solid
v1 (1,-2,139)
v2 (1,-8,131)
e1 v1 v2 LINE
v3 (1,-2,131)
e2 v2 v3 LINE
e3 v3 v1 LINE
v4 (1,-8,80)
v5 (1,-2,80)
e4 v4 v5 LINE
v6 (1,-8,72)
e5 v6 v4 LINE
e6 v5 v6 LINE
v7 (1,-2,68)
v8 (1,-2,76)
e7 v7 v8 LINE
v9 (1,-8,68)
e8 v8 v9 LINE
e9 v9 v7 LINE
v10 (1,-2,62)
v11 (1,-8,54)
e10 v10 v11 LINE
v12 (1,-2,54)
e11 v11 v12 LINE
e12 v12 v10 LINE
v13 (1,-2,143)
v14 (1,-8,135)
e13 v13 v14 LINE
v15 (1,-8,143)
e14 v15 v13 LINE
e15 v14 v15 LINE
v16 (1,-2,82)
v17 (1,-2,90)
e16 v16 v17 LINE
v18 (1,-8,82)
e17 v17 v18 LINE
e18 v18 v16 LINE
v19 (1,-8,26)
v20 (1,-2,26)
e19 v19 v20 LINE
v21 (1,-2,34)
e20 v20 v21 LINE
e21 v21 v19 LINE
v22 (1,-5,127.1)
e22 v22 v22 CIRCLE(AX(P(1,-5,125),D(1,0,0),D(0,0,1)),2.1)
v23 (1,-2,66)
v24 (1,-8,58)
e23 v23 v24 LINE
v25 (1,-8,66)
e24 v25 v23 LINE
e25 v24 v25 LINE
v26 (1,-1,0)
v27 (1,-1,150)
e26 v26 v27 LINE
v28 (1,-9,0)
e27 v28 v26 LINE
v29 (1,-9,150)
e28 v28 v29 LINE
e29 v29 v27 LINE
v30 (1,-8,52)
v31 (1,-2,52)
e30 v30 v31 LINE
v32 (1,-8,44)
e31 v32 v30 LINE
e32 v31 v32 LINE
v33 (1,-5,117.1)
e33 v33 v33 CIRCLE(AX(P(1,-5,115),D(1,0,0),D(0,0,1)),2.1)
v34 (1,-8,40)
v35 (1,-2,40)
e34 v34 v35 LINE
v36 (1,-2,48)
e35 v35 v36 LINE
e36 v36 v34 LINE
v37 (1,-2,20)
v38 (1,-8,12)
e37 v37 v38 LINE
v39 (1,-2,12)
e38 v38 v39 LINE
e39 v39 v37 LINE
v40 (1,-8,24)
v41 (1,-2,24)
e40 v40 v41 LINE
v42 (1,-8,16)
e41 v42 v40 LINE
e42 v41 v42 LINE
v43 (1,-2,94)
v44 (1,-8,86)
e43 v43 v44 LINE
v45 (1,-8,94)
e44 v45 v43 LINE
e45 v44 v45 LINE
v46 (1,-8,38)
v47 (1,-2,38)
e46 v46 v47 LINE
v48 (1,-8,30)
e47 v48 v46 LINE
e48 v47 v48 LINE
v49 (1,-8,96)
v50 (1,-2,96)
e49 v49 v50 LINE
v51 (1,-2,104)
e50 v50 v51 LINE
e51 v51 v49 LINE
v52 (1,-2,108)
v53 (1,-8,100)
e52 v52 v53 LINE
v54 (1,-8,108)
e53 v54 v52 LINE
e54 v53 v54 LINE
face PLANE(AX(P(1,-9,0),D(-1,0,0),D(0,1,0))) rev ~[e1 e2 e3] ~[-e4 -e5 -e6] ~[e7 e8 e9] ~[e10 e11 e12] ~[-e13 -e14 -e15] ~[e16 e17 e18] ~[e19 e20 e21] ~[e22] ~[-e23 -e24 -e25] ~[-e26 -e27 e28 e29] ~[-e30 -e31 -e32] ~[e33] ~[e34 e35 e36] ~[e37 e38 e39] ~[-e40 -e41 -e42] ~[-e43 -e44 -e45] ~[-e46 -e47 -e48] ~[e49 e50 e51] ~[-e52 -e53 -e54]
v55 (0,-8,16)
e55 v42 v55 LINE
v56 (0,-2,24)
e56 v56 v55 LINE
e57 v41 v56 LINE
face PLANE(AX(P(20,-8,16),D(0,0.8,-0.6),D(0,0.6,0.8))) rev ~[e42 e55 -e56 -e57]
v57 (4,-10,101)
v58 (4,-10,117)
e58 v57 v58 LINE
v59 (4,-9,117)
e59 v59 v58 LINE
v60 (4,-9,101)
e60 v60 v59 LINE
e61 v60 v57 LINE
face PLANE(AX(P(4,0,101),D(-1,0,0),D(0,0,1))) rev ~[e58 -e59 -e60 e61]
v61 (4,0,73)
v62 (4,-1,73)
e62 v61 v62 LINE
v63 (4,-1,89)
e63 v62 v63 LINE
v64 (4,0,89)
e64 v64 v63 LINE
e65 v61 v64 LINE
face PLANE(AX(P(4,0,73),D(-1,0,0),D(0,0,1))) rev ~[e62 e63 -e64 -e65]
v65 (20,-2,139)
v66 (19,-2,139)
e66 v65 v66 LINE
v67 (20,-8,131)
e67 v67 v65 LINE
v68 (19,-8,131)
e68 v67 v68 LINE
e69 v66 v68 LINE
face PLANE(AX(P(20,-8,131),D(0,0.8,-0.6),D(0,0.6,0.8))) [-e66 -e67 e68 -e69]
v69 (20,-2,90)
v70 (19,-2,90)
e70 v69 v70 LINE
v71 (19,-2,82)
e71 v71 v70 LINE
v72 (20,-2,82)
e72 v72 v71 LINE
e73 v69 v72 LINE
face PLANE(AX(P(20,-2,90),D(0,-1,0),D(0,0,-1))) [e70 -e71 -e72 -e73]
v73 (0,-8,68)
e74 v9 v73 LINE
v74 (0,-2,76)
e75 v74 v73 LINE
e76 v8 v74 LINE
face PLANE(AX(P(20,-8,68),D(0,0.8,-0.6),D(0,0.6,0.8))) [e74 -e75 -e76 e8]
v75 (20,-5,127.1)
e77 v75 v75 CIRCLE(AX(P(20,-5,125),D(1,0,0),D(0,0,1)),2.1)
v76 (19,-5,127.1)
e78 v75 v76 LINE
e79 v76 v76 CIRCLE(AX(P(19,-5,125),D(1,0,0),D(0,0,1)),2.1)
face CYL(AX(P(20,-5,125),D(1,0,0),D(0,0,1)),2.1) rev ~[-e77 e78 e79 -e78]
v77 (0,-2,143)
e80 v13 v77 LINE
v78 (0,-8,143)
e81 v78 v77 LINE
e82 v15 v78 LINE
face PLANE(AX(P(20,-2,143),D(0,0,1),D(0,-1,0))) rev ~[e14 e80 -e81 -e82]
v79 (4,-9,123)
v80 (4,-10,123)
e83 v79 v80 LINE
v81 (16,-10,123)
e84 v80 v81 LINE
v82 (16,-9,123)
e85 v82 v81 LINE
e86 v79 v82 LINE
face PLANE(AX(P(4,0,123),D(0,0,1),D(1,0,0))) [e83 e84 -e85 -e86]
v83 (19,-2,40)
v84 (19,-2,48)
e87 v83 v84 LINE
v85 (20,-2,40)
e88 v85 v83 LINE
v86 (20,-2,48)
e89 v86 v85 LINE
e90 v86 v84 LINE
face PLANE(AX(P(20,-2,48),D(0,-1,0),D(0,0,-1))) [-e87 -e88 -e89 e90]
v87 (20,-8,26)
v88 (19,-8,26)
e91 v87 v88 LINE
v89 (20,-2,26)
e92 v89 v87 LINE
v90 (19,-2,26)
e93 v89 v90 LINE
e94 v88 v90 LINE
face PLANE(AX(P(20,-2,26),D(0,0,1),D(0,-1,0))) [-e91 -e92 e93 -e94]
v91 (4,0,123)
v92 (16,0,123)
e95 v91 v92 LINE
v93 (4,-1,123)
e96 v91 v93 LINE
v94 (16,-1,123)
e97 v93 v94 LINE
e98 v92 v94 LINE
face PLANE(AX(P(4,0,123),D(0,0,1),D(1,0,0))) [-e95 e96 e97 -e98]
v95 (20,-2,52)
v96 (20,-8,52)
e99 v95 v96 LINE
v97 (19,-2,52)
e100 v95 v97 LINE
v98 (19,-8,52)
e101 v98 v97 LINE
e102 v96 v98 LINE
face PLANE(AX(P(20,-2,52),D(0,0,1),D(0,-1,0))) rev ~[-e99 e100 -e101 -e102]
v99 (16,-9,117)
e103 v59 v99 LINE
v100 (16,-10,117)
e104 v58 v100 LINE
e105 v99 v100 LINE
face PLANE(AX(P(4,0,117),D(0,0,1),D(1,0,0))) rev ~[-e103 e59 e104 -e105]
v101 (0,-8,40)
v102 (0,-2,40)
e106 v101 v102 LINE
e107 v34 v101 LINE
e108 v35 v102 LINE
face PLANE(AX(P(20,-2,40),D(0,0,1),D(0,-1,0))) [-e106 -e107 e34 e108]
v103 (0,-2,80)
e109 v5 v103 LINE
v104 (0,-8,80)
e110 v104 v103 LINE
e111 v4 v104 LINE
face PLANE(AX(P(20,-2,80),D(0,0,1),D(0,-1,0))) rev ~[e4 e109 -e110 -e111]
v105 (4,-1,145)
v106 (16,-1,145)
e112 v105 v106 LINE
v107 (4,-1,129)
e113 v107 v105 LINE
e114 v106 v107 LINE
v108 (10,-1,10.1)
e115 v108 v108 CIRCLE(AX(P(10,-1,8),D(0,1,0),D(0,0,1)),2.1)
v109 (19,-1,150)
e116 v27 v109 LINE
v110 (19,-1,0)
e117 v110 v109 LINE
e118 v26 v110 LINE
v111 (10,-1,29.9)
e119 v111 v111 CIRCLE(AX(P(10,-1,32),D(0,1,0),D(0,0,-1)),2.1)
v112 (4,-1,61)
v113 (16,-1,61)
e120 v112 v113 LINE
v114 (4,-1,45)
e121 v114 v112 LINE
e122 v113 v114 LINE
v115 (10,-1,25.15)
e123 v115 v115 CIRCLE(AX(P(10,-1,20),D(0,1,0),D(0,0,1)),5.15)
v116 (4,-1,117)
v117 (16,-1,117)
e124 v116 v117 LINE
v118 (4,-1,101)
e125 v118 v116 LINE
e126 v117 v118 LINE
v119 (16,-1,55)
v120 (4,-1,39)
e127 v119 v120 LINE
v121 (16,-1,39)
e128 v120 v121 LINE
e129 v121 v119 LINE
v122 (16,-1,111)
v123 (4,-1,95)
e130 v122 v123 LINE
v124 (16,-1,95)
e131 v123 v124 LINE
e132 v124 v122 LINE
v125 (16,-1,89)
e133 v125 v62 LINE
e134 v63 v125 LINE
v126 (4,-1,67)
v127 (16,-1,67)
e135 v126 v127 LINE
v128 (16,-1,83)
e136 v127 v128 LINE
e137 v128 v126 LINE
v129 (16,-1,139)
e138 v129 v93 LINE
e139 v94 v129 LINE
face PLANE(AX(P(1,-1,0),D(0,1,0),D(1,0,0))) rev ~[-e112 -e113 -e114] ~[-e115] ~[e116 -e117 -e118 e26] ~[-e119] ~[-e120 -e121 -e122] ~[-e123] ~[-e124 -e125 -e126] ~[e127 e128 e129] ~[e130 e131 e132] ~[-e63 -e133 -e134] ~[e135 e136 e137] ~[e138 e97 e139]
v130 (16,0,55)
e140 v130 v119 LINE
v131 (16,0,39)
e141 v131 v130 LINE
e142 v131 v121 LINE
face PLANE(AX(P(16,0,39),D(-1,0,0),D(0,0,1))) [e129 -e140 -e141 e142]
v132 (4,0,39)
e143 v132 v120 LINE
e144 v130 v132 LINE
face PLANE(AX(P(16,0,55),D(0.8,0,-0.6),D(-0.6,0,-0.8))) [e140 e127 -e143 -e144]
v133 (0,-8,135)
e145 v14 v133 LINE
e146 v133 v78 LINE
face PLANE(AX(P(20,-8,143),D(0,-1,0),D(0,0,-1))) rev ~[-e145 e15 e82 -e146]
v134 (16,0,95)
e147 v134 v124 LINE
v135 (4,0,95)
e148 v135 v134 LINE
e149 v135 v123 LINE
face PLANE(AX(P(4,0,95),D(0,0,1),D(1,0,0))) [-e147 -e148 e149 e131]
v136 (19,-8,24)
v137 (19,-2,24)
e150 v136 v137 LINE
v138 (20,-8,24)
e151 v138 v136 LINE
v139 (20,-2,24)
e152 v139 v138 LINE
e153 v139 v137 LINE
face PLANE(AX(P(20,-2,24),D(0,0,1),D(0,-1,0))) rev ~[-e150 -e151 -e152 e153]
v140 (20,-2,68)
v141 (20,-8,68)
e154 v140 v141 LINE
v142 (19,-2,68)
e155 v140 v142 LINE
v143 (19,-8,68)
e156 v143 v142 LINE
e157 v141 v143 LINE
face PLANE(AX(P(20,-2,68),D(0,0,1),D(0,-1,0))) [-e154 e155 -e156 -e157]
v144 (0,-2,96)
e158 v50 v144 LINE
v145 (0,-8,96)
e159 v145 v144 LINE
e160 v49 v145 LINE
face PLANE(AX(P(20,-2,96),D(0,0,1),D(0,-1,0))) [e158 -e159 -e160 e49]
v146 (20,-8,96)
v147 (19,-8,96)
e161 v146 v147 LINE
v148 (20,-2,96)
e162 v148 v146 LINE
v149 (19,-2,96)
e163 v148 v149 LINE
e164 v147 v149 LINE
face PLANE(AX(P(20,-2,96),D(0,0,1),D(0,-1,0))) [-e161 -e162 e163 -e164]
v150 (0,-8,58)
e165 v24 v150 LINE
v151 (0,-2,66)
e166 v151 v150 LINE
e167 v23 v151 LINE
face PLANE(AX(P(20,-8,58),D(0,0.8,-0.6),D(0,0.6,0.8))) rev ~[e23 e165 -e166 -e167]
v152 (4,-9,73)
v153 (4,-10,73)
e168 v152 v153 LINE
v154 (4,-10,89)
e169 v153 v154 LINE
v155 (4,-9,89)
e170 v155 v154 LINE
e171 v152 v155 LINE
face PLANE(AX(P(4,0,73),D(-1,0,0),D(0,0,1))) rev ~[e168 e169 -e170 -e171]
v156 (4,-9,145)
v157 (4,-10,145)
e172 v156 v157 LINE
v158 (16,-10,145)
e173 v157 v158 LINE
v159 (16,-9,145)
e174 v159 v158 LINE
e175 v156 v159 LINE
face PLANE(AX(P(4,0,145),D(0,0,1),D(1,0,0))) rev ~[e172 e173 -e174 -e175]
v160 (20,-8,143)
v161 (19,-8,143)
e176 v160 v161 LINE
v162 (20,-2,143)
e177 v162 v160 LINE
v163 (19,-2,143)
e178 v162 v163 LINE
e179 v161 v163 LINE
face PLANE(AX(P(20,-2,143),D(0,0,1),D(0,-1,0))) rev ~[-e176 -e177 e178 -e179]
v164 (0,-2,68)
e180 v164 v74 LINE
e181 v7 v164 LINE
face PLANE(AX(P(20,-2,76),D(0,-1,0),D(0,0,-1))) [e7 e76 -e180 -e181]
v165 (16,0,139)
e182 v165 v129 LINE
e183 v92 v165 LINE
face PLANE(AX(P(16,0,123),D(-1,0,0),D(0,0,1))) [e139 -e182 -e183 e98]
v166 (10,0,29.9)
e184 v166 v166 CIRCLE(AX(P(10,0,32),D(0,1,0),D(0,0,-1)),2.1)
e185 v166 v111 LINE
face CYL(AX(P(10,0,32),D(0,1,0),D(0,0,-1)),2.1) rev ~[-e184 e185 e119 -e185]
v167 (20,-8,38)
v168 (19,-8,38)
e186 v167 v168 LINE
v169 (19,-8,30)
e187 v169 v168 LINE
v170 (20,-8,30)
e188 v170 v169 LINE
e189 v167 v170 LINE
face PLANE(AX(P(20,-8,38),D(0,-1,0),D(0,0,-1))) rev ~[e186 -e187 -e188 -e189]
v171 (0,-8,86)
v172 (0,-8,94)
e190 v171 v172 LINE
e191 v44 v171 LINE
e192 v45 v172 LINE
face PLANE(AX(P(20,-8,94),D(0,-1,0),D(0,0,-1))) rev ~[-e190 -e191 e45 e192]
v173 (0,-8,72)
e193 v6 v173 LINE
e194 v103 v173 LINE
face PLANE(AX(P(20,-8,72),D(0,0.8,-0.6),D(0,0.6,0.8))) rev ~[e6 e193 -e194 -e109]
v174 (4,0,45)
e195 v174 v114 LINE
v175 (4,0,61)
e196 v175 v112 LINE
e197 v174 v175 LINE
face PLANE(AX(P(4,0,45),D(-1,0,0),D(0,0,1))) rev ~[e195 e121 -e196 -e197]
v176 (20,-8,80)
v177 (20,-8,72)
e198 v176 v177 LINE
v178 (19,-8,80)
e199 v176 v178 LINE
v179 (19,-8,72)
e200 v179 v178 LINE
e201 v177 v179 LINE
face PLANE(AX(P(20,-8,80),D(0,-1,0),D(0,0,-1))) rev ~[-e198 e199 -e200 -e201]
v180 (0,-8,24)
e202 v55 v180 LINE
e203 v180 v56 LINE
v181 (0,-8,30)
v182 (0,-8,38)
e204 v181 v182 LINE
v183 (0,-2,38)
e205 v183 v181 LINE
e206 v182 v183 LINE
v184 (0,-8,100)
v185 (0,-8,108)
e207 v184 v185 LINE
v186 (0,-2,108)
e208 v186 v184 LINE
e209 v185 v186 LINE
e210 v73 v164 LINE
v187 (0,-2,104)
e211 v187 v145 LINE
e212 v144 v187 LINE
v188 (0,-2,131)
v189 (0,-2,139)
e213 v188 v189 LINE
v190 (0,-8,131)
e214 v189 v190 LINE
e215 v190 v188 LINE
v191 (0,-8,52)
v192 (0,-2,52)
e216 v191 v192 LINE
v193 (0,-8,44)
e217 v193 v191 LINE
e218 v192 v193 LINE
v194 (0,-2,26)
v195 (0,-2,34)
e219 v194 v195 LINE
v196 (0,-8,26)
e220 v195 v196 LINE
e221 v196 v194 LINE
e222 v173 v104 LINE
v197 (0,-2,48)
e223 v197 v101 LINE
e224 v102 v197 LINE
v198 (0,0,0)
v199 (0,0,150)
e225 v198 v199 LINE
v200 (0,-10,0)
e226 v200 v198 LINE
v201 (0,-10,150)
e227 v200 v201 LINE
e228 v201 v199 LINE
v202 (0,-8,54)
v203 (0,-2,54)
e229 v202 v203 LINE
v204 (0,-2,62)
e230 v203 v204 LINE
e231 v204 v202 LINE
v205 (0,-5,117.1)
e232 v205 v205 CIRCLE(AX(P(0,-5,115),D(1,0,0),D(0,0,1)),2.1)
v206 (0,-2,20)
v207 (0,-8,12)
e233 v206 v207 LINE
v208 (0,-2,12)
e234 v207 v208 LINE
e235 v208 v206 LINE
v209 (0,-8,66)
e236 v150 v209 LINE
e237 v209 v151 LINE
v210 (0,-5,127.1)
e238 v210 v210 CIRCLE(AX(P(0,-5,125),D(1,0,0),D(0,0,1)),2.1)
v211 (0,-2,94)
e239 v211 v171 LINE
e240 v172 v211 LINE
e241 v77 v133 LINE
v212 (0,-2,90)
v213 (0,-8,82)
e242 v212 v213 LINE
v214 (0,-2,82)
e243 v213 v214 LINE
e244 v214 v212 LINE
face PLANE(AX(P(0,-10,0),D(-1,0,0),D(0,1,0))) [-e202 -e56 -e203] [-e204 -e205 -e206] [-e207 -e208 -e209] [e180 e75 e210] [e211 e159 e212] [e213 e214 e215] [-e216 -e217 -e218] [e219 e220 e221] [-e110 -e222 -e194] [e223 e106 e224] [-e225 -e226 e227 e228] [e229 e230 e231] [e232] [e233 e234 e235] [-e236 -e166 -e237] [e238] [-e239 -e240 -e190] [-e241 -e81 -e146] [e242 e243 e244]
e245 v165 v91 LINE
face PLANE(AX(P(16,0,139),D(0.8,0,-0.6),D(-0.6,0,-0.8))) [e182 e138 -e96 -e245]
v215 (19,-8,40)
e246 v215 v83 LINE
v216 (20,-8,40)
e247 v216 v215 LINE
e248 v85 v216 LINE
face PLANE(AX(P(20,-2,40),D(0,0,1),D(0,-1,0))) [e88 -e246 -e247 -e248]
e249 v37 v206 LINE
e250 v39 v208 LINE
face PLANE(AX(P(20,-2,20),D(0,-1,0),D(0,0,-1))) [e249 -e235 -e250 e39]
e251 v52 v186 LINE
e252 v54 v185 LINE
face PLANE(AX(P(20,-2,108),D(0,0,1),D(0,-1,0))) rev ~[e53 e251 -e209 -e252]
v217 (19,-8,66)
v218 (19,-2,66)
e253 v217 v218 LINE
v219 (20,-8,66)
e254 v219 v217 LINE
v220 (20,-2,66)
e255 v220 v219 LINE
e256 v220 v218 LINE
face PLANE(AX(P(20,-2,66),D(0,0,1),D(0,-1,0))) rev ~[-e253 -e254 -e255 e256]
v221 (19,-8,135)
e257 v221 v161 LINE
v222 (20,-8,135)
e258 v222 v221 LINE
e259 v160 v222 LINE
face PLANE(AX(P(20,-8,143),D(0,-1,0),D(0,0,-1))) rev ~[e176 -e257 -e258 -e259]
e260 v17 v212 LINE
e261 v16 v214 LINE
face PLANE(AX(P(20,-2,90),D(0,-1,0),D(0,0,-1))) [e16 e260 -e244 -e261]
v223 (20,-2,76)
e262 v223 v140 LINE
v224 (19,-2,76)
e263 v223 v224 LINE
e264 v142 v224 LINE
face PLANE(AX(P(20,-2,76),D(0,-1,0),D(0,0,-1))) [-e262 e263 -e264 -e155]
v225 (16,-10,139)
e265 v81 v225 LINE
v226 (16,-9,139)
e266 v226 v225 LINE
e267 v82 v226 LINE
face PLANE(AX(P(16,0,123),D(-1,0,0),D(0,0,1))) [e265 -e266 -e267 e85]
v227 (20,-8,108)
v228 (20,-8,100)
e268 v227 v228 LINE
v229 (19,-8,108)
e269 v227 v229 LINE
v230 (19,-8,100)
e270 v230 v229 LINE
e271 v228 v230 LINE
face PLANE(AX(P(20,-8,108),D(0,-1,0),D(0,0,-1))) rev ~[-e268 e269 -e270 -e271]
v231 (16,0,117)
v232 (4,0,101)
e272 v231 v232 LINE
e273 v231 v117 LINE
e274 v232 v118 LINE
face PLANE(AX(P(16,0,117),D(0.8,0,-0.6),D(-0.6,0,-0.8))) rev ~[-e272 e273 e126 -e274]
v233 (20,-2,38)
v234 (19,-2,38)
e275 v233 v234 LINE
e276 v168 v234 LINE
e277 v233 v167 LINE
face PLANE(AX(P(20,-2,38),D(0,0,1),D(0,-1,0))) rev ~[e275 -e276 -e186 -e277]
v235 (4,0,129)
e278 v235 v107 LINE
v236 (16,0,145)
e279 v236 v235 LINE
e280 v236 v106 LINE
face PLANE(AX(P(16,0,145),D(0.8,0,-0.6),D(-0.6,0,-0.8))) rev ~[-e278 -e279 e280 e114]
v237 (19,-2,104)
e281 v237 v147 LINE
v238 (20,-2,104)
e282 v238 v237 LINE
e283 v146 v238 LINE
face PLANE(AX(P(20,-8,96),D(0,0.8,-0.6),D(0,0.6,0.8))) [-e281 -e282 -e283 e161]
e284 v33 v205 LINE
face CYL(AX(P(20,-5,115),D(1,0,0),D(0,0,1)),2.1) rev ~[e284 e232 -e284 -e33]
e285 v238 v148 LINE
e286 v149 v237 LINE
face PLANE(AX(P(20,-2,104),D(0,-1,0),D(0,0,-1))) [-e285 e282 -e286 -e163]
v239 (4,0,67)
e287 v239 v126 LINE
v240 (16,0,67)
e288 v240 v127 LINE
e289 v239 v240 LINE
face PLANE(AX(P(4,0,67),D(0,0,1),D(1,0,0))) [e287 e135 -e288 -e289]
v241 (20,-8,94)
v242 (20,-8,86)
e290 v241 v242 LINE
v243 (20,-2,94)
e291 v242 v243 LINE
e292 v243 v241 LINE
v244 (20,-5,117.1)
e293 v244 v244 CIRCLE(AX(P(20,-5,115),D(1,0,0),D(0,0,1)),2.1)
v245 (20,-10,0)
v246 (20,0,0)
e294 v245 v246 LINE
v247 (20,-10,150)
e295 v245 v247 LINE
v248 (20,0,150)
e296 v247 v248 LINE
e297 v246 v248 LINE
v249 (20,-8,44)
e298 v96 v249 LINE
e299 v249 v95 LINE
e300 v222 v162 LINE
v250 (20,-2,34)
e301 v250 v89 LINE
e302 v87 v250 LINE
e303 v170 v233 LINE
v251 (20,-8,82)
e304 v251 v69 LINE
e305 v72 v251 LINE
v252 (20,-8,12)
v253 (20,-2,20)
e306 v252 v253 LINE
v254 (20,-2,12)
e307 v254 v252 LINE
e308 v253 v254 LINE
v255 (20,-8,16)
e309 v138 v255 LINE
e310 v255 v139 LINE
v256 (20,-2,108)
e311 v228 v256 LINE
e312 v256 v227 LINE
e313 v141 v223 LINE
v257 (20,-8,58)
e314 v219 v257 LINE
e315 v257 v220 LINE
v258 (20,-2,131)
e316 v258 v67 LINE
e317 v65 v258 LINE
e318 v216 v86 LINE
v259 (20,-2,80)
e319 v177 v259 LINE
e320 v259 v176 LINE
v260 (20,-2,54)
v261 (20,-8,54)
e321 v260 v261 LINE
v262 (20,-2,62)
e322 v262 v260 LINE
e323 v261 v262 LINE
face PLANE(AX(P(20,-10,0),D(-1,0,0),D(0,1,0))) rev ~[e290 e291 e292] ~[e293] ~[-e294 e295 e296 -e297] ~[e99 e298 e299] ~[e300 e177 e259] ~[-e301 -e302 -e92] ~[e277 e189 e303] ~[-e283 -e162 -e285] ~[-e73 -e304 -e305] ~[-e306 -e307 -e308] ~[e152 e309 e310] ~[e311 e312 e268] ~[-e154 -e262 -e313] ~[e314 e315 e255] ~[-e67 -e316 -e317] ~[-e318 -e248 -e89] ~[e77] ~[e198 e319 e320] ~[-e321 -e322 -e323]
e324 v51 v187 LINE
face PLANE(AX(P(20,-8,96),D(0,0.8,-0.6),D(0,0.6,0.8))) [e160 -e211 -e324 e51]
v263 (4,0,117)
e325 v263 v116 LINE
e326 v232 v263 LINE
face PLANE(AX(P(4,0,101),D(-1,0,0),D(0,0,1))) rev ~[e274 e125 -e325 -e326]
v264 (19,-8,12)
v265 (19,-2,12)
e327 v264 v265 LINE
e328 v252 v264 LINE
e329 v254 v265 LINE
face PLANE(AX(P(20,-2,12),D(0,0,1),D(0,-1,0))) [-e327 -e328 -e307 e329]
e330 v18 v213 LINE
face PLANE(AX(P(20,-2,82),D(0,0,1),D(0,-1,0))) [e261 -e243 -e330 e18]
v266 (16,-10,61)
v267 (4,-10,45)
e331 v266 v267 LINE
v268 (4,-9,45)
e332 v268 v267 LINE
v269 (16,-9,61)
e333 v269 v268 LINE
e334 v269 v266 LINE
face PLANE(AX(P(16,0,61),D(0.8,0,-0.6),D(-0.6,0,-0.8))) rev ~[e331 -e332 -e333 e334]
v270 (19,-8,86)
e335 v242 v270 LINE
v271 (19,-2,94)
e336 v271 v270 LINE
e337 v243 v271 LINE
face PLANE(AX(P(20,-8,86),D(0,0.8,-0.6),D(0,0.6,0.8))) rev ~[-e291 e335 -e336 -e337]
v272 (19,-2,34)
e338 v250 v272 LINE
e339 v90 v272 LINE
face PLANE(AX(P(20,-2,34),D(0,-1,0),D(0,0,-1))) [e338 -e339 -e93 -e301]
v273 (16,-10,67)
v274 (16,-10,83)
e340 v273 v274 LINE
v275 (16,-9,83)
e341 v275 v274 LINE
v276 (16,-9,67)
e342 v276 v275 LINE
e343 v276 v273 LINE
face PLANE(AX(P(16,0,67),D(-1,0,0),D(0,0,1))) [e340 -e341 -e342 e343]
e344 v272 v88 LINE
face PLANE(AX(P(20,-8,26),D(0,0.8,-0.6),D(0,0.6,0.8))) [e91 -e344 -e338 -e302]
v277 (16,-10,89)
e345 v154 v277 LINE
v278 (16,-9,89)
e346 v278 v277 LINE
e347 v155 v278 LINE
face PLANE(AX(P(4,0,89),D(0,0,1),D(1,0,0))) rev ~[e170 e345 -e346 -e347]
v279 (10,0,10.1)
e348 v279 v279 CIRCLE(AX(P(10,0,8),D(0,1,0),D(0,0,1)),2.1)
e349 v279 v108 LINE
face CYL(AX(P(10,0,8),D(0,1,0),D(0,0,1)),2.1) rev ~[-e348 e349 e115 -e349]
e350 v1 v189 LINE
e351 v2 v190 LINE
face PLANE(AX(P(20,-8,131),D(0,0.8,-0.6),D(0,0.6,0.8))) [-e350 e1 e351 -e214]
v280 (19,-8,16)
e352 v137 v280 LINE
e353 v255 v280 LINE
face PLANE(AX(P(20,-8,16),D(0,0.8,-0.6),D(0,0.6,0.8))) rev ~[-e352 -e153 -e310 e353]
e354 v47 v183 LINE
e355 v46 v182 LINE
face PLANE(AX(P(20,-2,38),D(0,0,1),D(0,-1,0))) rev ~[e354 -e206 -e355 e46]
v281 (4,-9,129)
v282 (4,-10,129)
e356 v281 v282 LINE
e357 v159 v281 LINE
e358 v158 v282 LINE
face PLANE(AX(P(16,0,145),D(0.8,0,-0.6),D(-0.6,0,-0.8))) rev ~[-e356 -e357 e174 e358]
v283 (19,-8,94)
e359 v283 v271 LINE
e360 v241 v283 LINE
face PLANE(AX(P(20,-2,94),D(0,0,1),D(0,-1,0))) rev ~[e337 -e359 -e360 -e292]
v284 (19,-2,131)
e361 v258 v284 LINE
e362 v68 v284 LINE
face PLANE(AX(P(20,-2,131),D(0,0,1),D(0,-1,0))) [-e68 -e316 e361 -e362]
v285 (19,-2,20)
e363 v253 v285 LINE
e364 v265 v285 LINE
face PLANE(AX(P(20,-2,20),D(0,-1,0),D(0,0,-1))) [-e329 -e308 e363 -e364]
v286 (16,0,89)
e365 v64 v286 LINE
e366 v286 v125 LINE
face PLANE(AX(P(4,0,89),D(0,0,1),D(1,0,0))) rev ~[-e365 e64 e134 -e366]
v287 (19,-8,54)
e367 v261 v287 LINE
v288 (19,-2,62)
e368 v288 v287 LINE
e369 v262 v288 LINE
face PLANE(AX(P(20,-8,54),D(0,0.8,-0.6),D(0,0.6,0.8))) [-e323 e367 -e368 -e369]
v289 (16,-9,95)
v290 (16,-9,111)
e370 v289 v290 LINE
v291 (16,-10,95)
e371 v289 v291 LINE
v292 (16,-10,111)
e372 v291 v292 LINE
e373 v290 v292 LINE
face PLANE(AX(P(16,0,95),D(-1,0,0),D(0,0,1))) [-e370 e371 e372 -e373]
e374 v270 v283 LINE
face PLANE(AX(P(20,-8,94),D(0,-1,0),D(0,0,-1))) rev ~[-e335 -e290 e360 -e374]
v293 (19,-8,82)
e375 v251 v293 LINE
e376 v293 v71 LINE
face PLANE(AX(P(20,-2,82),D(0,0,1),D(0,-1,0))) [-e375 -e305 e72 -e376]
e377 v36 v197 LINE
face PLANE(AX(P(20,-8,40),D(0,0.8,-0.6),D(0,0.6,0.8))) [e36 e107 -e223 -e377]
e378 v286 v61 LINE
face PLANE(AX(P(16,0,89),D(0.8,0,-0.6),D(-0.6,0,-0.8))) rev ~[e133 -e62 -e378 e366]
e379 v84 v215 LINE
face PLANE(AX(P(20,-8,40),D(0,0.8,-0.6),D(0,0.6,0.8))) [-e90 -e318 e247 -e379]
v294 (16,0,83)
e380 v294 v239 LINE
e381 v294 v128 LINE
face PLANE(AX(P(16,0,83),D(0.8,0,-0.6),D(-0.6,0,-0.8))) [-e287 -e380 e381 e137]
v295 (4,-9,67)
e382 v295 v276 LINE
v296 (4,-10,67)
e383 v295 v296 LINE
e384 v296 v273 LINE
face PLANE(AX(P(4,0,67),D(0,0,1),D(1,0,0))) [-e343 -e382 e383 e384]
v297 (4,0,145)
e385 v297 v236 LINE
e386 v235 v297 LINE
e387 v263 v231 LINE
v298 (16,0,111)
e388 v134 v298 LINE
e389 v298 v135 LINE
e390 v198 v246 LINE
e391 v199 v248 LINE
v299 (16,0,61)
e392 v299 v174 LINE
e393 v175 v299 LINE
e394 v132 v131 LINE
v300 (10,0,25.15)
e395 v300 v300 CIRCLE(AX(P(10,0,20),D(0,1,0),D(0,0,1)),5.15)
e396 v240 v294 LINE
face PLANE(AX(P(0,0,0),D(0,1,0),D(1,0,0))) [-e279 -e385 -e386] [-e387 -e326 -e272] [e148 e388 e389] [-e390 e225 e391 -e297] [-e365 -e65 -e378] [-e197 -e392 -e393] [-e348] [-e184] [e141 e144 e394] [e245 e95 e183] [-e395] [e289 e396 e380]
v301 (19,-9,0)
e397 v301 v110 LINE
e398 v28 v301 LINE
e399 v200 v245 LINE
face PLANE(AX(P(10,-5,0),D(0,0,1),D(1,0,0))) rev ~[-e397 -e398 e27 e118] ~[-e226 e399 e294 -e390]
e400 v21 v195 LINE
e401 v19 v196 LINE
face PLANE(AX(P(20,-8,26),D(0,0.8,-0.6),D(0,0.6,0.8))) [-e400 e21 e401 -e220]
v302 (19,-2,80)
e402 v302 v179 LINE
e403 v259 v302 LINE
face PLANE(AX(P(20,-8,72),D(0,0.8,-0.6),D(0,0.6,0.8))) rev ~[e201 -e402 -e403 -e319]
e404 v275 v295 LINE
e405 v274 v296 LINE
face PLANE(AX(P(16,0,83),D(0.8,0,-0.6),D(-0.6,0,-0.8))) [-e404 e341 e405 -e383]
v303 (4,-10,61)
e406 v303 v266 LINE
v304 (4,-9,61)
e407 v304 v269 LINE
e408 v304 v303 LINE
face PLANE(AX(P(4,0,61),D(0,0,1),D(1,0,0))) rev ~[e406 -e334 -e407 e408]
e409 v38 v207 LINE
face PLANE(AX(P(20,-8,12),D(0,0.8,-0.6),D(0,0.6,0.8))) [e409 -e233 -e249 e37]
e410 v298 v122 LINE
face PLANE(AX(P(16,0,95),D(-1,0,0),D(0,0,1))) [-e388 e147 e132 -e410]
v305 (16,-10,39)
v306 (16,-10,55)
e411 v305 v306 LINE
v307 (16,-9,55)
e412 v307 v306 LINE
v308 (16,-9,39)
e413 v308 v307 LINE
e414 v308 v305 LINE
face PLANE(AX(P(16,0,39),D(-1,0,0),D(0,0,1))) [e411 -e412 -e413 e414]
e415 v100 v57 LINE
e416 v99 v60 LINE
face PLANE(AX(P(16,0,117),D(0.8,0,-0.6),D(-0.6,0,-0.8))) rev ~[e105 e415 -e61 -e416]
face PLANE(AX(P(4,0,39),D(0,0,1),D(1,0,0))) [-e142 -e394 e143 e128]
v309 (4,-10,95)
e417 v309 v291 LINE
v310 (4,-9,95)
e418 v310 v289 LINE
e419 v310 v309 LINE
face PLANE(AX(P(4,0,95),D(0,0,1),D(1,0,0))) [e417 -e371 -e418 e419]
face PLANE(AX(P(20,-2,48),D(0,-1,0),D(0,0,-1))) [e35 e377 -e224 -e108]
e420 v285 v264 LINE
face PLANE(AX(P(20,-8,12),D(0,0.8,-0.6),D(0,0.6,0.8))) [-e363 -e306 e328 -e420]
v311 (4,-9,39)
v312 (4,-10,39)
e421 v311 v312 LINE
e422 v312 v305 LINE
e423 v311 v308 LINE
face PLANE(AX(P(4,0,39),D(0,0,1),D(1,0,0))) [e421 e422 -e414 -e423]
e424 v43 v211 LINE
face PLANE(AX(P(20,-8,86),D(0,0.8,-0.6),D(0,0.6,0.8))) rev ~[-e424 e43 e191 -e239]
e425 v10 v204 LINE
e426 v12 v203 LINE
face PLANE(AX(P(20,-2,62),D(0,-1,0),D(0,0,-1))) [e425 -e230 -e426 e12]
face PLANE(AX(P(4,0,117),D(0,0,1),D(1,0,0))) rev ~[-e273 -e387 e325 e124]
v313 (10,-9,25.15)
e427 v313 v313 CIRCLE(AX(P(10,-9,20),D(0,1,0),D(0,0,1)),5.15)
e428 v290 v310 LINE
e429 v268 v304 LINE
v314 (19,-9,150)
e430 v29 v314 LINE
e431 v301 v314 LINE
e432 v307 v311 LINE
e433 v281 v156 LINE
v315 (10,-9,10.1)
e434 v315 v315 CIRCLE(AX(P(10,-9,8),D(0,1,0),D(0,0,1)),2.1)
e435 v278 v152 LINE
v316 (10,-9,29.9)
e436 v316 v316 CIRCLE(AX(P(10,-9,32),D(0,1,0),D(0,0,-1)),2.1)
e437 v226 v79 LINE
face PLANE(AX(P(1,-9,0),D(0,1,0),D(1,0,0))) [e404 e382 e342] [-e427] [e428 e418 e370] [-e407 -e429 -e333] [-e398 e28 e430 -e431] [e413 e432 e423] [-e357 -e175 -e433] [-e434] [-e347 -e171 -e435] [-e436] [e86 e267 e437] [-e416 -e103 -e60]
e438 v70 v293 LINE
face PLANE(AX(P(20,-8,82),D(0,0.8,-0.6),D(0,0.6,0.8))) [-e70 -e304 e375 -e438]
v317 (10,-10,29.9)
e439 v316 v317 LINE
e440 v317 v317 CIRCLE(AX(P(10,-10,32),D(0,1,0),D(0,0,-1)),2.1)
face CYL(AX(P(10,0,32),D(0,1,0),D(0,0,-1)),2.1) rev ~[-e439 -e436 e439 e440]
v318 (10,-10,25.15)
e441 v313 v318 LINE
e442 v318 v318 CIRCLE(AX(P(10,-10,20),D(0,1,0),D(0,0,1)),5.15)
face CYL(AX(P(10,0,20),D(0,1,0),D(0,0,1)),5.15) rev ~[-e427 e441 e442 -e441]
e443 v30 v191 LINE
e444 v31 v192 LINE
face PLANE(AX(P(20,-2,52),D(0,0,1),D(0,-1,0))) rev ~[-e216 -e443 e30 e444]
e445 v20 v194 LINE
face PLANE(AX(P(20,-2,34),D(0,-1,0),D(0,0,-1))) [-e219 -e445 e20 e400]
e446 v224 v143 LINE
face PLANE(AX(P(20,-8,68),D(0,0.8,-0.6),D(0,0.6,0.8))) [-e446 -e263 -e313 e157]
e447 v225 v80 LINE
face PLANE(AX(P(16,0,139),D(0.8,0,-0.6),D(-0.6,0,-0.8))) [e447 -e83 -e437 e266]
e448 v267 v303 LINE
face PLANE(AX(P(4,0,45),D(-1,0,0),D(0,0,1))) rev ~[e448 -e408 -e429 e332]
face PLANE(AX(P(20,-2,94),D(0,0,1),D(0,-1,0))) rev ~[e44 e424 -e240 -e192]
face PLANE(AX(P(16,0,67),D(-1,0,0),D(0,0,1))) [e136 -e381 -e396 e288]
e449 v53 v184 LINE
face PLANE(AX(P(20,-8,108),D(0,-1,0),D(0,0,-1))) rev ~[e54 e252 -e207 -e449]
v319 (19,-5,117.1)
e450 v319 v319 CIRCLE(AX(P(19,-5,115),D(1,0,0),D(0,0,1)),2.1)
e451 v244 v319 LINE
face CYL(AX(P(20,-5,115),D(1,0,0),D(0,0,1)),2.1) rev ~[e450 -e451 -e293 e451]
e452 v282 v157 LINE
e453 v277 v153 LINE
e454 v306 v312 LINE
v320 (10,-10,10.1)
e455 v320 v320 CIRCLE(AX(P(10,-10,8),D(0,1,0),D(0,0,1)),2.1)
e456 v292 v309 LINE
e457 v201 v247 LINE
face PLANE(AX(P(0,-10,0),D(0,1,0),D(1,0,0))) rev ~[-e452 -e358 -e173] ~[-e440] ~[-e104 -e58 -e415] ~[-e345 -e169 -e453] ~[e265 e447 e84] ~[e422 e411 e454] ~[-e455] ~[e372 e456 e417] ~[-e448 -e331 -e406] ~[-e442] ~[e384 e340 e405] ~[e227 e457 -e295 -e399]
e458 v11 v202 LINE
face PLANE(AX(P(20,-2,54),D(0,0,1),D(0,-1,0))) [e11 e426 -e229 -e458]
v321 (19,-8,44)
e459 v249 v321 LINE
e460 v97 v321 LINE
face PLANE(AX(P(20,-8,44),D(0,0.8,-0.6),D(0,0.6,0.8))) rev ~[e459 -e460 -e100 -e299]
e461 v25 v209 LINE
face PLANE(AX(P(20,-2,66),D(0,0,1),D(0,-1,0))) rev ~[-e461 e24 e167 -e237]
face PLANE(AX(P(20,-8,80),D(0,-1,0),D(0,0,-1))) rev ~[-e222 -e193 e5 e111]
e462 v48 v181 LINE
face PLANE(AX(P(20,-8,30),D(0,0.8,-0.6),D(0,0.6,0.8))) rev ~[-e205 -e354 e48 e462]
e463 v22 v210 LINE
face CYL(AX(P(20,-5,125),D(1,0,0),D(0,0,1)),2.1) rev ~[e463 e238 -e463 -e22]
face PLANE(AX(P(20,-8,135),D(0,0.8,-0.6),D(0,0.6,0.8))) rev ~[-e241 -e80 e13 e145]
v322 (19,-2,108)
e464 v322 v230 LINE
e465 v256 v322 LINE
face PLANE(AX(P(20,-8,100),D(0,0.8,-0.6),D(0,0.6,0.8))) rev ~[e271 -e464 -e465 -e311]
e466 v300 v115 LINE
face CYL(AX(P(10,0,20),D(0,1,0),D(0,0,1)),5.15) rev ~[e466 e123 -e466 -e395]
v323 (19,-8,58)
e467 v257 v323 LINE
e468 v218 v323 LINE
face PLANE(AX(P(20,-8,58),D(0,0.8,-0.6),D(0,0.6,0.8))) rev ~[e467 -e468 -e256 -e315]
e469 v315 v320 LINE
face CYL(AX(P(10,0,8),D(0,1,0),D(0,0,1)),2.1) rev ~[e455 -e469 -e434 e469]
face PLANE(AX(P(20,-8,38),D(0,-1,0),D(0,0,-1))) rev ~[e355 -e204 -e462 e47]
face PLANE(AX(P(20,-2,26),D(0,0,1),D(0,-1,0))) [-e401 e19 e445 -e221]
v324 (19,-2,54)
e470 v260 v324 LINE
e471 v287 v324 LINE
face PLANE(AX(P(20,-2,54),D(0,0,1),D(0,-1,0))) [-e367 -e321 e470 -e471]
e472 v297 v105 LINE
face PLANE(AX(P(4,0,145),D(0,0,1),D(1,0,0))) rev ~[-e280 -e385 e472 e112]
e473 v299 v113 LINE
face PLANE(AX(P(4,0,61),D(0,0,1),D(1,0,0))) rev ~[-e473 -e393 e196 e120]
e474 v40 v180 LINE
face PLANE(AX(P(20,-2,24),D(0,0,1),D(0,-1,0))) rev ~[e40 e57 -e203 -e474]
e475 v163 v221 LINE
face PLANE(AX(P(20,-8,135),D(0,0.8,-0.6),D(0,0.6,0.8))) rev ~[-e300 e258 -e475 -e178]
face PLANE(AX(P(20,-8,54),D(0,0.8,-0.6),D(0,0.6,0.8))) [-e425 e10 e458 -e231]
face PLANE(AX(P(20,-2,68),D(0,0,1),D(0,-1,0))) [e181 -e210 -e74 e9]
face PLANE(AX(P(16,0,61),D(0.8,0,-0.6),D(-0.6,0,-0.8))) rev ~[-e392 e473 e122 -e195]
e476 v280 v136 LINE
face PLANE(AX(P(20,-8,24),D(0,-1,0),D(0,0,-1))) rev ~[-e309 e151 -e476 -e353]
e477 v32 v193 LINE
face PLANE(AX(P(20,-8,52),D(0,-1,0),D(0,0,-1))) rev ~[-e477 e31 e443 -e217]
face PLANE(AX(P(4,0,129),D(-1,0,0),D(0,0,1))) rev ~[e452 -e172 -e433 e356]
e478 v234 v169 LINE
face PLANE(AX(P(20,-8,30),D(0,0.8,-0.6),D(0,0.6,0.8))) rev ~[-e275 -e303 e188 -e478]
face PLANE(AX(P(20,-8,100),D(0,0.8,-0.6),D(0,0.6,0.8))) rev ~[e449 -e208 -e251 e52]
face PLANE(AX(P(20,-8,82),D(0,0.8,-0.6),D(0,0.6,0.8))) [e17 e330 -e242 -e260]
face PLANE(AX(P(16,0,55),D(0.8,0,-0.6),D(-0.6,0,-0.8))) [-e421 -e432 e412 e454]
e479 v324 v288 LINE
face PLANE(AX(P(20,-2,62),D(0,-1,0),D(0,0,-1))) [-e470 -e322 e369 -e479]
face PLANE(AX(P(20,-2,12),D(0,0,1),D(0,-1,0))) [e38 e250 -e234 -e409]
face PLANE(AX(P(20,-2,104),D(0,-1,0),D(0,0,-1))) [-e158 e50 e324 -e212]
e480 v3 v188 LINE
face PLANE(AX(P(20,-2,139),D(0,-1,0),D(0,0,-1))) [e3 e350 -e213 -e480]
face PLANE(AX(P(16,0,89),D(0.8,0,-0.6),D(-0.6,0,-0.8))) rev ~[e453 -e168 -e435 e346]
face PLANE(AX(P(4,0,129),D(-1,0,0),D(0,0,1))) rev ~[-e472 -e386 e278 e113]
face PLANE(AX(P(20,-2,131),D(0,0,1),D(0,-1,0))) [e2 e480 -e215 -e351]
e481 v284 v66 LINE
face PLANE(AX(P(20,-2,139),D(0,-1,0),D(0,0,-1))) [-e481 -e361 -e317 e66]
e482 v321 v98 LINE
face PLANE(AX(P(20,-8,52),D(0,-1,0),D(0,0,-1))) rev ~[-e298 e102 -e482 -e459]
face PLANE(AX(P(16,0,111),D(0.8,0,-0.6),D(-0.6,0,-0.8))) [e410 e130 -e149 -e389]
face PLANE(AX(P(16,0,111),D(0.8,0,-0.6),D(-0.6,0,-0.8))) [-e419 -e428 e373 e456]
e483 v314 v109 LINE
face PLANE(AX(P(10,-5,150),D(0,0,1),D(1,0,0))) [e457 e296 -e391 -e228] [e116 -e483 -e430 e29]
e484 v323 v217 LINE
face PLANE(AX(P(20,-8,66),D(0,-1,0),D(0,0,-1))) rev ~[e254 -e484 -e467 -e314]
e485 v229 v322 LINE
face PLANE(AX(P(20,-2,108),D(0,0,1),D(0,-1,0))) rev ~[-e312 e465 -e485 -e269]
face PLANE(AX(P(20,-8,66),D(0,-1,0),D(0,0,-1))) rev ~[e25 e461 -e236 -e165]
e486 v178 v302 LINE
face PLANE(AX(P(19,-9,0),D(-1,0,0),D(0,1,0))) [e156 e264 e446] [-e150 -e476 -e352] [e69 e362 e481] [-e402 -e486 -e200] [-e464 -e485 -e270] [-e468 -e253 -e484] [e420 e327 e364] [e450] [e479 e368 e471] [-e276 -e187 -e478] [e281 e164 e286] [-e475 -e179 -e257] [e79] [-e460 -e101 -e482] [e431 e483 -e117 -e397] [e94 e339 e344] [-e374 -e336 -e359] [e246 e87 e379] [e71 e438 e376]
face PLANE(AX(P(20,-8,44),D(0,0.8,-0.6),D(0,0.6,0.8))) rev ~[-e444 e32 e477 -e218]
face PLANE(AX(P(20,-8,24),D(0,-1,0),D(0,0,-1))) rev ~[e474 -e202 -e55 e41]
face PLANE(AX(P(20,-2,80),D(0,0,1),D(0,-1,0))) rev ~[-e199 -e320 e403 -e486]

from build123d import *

# Parameters (mm, degrees)
SKETCH_1_W          = 20
SKETCH_1_H          = 10
SKETCH_1_W_2        = 18
SKETCH_1_H_2        = 8
EXTRUDE_1_DEPTH     = 150
SKETCH_2_R          = 2.1
CUT_EXTRUDE_1_DEPTH = 152.657508881
SKETCH_3_R          = 5.15
SKETCH_3_R_2        = 2.1
CUT_EXTRUDE_2_DEPTH = 152.657508881


with BuildPart() as part:
    # 草图1 → 拉伸-薄壁1 (new body)
    with BuildSketch(Plane.XY):
        with Locations((10, -5)):
            Rectangle(SKETCH_1_W, SKETCH_1_H)
        with Locations((10, -5)):
            Rectangle(SKETCH_1_W_2, SKETCH_1_H_2, mode=Mode.SUBTRACT)
    extrude(amount=EXTRUDE_1_DEPTH)

    # 草图2 → 切除-拉伸1 (cut, through all)
    with BuildSketch(Plane(origin=(20, 0, 0), x_dir=(0, 0, -1), z_dir=(1, 0, 0))):
        with Locations(Location((-115, -5, 0), (0, 0, 180))):
            Circle(SKETCH_2_R)
        with Locations(Location((-125, -5, 0), (0, 0, 180))):
            Circle(SKETCH_2_R)
        Polygon((-108, -2), (-108, -8), (-100, -8), align=None)
        Polygon((-104, -2), (-96, -2), (-96, -8), align=None)
        Polygon((-90, -2), (-82, -2), (-82, -8), align=None)
        Polygon((-86, -8), (-94, -2), (-94, -8), align=None)
        Polygon((-76, -2), (-68, -2), (-68, -8), align=None)
        Polygon((-72, -8), (-80, -2), (-80, -8), align=None)
        Polygon((-62, -2), (-54, -2), (-54, -8), align=None)
        Polygon((-58, -8), (-66, -2), (-66, -8), align=None)
        Polygon((-48, -2), (-40, -2), (-40, -8), align=None)
        Polygon((-44, -8), (-52, -2), (-52, -8), align=None)
        Polygon((-34, -2), (-26, -2), (-26, -8), align=None)
        Polygon((-30, -8), (-38, -2), (-38, -8), align=None)
        Polygon((-20, -2), (-12, -2), (-12, -8), align=None)
        Polygon((-16, -8), (-24, -2), (-24, -8), align=None)
        Polygon((-139, -2), (-131, -2), (-131, -8), align=None)
        Polygon((-135, -8), (-143, -2), (-143, -8), align=None)
    extrude(amount=-CUT_EXTRUDE_1_DEPTH, mode=Mode.SUBTRACT)

    # 草图3 → 切除-拉伸2 (cut, through all)
    with BuildSketch(Plane(origin=(0, 0, 0), x_dir=(1, 0, 0), z_dir=(0, 1, 0))):
        with Locations(Location((10, -20, 0), (0, 0, 270))):
            Circle(SKETCH_3_R)
        with Locations(Location((10, -8, 0), (0, 0, 270))):
            Circle(SKETCH_3_R_2)
        with Locations(Location((10, -32, 0), (0, 0, 90))):
            Circle(SKETCH_3_R_2)
        Polygon((4, -129), (4, -145), (16, -145), align=None)
        Polygon((4, -123), (16, -123), (16, -139), align=None)
        Polygon((4, -95), (16, -95), (16, -111), align=None)
        Polygon((16, -117), (4, -101), (4, -117), align=None)
        Polygon((4, -67), (16, -67), (16, -83), align=None)
        Polygon((16, -89), (4, -73), (4, -89), align=None)
        Polygon((4, -39), (16, -39), (16, -55), align=None)
        Polygon((16, -61), (4, -45), (4, -61), align=None)
    extrude(amount=-CUT_EXTRUDE_2_DEPTH, mode=Mode.SUBTRACT)


solid = part.part
